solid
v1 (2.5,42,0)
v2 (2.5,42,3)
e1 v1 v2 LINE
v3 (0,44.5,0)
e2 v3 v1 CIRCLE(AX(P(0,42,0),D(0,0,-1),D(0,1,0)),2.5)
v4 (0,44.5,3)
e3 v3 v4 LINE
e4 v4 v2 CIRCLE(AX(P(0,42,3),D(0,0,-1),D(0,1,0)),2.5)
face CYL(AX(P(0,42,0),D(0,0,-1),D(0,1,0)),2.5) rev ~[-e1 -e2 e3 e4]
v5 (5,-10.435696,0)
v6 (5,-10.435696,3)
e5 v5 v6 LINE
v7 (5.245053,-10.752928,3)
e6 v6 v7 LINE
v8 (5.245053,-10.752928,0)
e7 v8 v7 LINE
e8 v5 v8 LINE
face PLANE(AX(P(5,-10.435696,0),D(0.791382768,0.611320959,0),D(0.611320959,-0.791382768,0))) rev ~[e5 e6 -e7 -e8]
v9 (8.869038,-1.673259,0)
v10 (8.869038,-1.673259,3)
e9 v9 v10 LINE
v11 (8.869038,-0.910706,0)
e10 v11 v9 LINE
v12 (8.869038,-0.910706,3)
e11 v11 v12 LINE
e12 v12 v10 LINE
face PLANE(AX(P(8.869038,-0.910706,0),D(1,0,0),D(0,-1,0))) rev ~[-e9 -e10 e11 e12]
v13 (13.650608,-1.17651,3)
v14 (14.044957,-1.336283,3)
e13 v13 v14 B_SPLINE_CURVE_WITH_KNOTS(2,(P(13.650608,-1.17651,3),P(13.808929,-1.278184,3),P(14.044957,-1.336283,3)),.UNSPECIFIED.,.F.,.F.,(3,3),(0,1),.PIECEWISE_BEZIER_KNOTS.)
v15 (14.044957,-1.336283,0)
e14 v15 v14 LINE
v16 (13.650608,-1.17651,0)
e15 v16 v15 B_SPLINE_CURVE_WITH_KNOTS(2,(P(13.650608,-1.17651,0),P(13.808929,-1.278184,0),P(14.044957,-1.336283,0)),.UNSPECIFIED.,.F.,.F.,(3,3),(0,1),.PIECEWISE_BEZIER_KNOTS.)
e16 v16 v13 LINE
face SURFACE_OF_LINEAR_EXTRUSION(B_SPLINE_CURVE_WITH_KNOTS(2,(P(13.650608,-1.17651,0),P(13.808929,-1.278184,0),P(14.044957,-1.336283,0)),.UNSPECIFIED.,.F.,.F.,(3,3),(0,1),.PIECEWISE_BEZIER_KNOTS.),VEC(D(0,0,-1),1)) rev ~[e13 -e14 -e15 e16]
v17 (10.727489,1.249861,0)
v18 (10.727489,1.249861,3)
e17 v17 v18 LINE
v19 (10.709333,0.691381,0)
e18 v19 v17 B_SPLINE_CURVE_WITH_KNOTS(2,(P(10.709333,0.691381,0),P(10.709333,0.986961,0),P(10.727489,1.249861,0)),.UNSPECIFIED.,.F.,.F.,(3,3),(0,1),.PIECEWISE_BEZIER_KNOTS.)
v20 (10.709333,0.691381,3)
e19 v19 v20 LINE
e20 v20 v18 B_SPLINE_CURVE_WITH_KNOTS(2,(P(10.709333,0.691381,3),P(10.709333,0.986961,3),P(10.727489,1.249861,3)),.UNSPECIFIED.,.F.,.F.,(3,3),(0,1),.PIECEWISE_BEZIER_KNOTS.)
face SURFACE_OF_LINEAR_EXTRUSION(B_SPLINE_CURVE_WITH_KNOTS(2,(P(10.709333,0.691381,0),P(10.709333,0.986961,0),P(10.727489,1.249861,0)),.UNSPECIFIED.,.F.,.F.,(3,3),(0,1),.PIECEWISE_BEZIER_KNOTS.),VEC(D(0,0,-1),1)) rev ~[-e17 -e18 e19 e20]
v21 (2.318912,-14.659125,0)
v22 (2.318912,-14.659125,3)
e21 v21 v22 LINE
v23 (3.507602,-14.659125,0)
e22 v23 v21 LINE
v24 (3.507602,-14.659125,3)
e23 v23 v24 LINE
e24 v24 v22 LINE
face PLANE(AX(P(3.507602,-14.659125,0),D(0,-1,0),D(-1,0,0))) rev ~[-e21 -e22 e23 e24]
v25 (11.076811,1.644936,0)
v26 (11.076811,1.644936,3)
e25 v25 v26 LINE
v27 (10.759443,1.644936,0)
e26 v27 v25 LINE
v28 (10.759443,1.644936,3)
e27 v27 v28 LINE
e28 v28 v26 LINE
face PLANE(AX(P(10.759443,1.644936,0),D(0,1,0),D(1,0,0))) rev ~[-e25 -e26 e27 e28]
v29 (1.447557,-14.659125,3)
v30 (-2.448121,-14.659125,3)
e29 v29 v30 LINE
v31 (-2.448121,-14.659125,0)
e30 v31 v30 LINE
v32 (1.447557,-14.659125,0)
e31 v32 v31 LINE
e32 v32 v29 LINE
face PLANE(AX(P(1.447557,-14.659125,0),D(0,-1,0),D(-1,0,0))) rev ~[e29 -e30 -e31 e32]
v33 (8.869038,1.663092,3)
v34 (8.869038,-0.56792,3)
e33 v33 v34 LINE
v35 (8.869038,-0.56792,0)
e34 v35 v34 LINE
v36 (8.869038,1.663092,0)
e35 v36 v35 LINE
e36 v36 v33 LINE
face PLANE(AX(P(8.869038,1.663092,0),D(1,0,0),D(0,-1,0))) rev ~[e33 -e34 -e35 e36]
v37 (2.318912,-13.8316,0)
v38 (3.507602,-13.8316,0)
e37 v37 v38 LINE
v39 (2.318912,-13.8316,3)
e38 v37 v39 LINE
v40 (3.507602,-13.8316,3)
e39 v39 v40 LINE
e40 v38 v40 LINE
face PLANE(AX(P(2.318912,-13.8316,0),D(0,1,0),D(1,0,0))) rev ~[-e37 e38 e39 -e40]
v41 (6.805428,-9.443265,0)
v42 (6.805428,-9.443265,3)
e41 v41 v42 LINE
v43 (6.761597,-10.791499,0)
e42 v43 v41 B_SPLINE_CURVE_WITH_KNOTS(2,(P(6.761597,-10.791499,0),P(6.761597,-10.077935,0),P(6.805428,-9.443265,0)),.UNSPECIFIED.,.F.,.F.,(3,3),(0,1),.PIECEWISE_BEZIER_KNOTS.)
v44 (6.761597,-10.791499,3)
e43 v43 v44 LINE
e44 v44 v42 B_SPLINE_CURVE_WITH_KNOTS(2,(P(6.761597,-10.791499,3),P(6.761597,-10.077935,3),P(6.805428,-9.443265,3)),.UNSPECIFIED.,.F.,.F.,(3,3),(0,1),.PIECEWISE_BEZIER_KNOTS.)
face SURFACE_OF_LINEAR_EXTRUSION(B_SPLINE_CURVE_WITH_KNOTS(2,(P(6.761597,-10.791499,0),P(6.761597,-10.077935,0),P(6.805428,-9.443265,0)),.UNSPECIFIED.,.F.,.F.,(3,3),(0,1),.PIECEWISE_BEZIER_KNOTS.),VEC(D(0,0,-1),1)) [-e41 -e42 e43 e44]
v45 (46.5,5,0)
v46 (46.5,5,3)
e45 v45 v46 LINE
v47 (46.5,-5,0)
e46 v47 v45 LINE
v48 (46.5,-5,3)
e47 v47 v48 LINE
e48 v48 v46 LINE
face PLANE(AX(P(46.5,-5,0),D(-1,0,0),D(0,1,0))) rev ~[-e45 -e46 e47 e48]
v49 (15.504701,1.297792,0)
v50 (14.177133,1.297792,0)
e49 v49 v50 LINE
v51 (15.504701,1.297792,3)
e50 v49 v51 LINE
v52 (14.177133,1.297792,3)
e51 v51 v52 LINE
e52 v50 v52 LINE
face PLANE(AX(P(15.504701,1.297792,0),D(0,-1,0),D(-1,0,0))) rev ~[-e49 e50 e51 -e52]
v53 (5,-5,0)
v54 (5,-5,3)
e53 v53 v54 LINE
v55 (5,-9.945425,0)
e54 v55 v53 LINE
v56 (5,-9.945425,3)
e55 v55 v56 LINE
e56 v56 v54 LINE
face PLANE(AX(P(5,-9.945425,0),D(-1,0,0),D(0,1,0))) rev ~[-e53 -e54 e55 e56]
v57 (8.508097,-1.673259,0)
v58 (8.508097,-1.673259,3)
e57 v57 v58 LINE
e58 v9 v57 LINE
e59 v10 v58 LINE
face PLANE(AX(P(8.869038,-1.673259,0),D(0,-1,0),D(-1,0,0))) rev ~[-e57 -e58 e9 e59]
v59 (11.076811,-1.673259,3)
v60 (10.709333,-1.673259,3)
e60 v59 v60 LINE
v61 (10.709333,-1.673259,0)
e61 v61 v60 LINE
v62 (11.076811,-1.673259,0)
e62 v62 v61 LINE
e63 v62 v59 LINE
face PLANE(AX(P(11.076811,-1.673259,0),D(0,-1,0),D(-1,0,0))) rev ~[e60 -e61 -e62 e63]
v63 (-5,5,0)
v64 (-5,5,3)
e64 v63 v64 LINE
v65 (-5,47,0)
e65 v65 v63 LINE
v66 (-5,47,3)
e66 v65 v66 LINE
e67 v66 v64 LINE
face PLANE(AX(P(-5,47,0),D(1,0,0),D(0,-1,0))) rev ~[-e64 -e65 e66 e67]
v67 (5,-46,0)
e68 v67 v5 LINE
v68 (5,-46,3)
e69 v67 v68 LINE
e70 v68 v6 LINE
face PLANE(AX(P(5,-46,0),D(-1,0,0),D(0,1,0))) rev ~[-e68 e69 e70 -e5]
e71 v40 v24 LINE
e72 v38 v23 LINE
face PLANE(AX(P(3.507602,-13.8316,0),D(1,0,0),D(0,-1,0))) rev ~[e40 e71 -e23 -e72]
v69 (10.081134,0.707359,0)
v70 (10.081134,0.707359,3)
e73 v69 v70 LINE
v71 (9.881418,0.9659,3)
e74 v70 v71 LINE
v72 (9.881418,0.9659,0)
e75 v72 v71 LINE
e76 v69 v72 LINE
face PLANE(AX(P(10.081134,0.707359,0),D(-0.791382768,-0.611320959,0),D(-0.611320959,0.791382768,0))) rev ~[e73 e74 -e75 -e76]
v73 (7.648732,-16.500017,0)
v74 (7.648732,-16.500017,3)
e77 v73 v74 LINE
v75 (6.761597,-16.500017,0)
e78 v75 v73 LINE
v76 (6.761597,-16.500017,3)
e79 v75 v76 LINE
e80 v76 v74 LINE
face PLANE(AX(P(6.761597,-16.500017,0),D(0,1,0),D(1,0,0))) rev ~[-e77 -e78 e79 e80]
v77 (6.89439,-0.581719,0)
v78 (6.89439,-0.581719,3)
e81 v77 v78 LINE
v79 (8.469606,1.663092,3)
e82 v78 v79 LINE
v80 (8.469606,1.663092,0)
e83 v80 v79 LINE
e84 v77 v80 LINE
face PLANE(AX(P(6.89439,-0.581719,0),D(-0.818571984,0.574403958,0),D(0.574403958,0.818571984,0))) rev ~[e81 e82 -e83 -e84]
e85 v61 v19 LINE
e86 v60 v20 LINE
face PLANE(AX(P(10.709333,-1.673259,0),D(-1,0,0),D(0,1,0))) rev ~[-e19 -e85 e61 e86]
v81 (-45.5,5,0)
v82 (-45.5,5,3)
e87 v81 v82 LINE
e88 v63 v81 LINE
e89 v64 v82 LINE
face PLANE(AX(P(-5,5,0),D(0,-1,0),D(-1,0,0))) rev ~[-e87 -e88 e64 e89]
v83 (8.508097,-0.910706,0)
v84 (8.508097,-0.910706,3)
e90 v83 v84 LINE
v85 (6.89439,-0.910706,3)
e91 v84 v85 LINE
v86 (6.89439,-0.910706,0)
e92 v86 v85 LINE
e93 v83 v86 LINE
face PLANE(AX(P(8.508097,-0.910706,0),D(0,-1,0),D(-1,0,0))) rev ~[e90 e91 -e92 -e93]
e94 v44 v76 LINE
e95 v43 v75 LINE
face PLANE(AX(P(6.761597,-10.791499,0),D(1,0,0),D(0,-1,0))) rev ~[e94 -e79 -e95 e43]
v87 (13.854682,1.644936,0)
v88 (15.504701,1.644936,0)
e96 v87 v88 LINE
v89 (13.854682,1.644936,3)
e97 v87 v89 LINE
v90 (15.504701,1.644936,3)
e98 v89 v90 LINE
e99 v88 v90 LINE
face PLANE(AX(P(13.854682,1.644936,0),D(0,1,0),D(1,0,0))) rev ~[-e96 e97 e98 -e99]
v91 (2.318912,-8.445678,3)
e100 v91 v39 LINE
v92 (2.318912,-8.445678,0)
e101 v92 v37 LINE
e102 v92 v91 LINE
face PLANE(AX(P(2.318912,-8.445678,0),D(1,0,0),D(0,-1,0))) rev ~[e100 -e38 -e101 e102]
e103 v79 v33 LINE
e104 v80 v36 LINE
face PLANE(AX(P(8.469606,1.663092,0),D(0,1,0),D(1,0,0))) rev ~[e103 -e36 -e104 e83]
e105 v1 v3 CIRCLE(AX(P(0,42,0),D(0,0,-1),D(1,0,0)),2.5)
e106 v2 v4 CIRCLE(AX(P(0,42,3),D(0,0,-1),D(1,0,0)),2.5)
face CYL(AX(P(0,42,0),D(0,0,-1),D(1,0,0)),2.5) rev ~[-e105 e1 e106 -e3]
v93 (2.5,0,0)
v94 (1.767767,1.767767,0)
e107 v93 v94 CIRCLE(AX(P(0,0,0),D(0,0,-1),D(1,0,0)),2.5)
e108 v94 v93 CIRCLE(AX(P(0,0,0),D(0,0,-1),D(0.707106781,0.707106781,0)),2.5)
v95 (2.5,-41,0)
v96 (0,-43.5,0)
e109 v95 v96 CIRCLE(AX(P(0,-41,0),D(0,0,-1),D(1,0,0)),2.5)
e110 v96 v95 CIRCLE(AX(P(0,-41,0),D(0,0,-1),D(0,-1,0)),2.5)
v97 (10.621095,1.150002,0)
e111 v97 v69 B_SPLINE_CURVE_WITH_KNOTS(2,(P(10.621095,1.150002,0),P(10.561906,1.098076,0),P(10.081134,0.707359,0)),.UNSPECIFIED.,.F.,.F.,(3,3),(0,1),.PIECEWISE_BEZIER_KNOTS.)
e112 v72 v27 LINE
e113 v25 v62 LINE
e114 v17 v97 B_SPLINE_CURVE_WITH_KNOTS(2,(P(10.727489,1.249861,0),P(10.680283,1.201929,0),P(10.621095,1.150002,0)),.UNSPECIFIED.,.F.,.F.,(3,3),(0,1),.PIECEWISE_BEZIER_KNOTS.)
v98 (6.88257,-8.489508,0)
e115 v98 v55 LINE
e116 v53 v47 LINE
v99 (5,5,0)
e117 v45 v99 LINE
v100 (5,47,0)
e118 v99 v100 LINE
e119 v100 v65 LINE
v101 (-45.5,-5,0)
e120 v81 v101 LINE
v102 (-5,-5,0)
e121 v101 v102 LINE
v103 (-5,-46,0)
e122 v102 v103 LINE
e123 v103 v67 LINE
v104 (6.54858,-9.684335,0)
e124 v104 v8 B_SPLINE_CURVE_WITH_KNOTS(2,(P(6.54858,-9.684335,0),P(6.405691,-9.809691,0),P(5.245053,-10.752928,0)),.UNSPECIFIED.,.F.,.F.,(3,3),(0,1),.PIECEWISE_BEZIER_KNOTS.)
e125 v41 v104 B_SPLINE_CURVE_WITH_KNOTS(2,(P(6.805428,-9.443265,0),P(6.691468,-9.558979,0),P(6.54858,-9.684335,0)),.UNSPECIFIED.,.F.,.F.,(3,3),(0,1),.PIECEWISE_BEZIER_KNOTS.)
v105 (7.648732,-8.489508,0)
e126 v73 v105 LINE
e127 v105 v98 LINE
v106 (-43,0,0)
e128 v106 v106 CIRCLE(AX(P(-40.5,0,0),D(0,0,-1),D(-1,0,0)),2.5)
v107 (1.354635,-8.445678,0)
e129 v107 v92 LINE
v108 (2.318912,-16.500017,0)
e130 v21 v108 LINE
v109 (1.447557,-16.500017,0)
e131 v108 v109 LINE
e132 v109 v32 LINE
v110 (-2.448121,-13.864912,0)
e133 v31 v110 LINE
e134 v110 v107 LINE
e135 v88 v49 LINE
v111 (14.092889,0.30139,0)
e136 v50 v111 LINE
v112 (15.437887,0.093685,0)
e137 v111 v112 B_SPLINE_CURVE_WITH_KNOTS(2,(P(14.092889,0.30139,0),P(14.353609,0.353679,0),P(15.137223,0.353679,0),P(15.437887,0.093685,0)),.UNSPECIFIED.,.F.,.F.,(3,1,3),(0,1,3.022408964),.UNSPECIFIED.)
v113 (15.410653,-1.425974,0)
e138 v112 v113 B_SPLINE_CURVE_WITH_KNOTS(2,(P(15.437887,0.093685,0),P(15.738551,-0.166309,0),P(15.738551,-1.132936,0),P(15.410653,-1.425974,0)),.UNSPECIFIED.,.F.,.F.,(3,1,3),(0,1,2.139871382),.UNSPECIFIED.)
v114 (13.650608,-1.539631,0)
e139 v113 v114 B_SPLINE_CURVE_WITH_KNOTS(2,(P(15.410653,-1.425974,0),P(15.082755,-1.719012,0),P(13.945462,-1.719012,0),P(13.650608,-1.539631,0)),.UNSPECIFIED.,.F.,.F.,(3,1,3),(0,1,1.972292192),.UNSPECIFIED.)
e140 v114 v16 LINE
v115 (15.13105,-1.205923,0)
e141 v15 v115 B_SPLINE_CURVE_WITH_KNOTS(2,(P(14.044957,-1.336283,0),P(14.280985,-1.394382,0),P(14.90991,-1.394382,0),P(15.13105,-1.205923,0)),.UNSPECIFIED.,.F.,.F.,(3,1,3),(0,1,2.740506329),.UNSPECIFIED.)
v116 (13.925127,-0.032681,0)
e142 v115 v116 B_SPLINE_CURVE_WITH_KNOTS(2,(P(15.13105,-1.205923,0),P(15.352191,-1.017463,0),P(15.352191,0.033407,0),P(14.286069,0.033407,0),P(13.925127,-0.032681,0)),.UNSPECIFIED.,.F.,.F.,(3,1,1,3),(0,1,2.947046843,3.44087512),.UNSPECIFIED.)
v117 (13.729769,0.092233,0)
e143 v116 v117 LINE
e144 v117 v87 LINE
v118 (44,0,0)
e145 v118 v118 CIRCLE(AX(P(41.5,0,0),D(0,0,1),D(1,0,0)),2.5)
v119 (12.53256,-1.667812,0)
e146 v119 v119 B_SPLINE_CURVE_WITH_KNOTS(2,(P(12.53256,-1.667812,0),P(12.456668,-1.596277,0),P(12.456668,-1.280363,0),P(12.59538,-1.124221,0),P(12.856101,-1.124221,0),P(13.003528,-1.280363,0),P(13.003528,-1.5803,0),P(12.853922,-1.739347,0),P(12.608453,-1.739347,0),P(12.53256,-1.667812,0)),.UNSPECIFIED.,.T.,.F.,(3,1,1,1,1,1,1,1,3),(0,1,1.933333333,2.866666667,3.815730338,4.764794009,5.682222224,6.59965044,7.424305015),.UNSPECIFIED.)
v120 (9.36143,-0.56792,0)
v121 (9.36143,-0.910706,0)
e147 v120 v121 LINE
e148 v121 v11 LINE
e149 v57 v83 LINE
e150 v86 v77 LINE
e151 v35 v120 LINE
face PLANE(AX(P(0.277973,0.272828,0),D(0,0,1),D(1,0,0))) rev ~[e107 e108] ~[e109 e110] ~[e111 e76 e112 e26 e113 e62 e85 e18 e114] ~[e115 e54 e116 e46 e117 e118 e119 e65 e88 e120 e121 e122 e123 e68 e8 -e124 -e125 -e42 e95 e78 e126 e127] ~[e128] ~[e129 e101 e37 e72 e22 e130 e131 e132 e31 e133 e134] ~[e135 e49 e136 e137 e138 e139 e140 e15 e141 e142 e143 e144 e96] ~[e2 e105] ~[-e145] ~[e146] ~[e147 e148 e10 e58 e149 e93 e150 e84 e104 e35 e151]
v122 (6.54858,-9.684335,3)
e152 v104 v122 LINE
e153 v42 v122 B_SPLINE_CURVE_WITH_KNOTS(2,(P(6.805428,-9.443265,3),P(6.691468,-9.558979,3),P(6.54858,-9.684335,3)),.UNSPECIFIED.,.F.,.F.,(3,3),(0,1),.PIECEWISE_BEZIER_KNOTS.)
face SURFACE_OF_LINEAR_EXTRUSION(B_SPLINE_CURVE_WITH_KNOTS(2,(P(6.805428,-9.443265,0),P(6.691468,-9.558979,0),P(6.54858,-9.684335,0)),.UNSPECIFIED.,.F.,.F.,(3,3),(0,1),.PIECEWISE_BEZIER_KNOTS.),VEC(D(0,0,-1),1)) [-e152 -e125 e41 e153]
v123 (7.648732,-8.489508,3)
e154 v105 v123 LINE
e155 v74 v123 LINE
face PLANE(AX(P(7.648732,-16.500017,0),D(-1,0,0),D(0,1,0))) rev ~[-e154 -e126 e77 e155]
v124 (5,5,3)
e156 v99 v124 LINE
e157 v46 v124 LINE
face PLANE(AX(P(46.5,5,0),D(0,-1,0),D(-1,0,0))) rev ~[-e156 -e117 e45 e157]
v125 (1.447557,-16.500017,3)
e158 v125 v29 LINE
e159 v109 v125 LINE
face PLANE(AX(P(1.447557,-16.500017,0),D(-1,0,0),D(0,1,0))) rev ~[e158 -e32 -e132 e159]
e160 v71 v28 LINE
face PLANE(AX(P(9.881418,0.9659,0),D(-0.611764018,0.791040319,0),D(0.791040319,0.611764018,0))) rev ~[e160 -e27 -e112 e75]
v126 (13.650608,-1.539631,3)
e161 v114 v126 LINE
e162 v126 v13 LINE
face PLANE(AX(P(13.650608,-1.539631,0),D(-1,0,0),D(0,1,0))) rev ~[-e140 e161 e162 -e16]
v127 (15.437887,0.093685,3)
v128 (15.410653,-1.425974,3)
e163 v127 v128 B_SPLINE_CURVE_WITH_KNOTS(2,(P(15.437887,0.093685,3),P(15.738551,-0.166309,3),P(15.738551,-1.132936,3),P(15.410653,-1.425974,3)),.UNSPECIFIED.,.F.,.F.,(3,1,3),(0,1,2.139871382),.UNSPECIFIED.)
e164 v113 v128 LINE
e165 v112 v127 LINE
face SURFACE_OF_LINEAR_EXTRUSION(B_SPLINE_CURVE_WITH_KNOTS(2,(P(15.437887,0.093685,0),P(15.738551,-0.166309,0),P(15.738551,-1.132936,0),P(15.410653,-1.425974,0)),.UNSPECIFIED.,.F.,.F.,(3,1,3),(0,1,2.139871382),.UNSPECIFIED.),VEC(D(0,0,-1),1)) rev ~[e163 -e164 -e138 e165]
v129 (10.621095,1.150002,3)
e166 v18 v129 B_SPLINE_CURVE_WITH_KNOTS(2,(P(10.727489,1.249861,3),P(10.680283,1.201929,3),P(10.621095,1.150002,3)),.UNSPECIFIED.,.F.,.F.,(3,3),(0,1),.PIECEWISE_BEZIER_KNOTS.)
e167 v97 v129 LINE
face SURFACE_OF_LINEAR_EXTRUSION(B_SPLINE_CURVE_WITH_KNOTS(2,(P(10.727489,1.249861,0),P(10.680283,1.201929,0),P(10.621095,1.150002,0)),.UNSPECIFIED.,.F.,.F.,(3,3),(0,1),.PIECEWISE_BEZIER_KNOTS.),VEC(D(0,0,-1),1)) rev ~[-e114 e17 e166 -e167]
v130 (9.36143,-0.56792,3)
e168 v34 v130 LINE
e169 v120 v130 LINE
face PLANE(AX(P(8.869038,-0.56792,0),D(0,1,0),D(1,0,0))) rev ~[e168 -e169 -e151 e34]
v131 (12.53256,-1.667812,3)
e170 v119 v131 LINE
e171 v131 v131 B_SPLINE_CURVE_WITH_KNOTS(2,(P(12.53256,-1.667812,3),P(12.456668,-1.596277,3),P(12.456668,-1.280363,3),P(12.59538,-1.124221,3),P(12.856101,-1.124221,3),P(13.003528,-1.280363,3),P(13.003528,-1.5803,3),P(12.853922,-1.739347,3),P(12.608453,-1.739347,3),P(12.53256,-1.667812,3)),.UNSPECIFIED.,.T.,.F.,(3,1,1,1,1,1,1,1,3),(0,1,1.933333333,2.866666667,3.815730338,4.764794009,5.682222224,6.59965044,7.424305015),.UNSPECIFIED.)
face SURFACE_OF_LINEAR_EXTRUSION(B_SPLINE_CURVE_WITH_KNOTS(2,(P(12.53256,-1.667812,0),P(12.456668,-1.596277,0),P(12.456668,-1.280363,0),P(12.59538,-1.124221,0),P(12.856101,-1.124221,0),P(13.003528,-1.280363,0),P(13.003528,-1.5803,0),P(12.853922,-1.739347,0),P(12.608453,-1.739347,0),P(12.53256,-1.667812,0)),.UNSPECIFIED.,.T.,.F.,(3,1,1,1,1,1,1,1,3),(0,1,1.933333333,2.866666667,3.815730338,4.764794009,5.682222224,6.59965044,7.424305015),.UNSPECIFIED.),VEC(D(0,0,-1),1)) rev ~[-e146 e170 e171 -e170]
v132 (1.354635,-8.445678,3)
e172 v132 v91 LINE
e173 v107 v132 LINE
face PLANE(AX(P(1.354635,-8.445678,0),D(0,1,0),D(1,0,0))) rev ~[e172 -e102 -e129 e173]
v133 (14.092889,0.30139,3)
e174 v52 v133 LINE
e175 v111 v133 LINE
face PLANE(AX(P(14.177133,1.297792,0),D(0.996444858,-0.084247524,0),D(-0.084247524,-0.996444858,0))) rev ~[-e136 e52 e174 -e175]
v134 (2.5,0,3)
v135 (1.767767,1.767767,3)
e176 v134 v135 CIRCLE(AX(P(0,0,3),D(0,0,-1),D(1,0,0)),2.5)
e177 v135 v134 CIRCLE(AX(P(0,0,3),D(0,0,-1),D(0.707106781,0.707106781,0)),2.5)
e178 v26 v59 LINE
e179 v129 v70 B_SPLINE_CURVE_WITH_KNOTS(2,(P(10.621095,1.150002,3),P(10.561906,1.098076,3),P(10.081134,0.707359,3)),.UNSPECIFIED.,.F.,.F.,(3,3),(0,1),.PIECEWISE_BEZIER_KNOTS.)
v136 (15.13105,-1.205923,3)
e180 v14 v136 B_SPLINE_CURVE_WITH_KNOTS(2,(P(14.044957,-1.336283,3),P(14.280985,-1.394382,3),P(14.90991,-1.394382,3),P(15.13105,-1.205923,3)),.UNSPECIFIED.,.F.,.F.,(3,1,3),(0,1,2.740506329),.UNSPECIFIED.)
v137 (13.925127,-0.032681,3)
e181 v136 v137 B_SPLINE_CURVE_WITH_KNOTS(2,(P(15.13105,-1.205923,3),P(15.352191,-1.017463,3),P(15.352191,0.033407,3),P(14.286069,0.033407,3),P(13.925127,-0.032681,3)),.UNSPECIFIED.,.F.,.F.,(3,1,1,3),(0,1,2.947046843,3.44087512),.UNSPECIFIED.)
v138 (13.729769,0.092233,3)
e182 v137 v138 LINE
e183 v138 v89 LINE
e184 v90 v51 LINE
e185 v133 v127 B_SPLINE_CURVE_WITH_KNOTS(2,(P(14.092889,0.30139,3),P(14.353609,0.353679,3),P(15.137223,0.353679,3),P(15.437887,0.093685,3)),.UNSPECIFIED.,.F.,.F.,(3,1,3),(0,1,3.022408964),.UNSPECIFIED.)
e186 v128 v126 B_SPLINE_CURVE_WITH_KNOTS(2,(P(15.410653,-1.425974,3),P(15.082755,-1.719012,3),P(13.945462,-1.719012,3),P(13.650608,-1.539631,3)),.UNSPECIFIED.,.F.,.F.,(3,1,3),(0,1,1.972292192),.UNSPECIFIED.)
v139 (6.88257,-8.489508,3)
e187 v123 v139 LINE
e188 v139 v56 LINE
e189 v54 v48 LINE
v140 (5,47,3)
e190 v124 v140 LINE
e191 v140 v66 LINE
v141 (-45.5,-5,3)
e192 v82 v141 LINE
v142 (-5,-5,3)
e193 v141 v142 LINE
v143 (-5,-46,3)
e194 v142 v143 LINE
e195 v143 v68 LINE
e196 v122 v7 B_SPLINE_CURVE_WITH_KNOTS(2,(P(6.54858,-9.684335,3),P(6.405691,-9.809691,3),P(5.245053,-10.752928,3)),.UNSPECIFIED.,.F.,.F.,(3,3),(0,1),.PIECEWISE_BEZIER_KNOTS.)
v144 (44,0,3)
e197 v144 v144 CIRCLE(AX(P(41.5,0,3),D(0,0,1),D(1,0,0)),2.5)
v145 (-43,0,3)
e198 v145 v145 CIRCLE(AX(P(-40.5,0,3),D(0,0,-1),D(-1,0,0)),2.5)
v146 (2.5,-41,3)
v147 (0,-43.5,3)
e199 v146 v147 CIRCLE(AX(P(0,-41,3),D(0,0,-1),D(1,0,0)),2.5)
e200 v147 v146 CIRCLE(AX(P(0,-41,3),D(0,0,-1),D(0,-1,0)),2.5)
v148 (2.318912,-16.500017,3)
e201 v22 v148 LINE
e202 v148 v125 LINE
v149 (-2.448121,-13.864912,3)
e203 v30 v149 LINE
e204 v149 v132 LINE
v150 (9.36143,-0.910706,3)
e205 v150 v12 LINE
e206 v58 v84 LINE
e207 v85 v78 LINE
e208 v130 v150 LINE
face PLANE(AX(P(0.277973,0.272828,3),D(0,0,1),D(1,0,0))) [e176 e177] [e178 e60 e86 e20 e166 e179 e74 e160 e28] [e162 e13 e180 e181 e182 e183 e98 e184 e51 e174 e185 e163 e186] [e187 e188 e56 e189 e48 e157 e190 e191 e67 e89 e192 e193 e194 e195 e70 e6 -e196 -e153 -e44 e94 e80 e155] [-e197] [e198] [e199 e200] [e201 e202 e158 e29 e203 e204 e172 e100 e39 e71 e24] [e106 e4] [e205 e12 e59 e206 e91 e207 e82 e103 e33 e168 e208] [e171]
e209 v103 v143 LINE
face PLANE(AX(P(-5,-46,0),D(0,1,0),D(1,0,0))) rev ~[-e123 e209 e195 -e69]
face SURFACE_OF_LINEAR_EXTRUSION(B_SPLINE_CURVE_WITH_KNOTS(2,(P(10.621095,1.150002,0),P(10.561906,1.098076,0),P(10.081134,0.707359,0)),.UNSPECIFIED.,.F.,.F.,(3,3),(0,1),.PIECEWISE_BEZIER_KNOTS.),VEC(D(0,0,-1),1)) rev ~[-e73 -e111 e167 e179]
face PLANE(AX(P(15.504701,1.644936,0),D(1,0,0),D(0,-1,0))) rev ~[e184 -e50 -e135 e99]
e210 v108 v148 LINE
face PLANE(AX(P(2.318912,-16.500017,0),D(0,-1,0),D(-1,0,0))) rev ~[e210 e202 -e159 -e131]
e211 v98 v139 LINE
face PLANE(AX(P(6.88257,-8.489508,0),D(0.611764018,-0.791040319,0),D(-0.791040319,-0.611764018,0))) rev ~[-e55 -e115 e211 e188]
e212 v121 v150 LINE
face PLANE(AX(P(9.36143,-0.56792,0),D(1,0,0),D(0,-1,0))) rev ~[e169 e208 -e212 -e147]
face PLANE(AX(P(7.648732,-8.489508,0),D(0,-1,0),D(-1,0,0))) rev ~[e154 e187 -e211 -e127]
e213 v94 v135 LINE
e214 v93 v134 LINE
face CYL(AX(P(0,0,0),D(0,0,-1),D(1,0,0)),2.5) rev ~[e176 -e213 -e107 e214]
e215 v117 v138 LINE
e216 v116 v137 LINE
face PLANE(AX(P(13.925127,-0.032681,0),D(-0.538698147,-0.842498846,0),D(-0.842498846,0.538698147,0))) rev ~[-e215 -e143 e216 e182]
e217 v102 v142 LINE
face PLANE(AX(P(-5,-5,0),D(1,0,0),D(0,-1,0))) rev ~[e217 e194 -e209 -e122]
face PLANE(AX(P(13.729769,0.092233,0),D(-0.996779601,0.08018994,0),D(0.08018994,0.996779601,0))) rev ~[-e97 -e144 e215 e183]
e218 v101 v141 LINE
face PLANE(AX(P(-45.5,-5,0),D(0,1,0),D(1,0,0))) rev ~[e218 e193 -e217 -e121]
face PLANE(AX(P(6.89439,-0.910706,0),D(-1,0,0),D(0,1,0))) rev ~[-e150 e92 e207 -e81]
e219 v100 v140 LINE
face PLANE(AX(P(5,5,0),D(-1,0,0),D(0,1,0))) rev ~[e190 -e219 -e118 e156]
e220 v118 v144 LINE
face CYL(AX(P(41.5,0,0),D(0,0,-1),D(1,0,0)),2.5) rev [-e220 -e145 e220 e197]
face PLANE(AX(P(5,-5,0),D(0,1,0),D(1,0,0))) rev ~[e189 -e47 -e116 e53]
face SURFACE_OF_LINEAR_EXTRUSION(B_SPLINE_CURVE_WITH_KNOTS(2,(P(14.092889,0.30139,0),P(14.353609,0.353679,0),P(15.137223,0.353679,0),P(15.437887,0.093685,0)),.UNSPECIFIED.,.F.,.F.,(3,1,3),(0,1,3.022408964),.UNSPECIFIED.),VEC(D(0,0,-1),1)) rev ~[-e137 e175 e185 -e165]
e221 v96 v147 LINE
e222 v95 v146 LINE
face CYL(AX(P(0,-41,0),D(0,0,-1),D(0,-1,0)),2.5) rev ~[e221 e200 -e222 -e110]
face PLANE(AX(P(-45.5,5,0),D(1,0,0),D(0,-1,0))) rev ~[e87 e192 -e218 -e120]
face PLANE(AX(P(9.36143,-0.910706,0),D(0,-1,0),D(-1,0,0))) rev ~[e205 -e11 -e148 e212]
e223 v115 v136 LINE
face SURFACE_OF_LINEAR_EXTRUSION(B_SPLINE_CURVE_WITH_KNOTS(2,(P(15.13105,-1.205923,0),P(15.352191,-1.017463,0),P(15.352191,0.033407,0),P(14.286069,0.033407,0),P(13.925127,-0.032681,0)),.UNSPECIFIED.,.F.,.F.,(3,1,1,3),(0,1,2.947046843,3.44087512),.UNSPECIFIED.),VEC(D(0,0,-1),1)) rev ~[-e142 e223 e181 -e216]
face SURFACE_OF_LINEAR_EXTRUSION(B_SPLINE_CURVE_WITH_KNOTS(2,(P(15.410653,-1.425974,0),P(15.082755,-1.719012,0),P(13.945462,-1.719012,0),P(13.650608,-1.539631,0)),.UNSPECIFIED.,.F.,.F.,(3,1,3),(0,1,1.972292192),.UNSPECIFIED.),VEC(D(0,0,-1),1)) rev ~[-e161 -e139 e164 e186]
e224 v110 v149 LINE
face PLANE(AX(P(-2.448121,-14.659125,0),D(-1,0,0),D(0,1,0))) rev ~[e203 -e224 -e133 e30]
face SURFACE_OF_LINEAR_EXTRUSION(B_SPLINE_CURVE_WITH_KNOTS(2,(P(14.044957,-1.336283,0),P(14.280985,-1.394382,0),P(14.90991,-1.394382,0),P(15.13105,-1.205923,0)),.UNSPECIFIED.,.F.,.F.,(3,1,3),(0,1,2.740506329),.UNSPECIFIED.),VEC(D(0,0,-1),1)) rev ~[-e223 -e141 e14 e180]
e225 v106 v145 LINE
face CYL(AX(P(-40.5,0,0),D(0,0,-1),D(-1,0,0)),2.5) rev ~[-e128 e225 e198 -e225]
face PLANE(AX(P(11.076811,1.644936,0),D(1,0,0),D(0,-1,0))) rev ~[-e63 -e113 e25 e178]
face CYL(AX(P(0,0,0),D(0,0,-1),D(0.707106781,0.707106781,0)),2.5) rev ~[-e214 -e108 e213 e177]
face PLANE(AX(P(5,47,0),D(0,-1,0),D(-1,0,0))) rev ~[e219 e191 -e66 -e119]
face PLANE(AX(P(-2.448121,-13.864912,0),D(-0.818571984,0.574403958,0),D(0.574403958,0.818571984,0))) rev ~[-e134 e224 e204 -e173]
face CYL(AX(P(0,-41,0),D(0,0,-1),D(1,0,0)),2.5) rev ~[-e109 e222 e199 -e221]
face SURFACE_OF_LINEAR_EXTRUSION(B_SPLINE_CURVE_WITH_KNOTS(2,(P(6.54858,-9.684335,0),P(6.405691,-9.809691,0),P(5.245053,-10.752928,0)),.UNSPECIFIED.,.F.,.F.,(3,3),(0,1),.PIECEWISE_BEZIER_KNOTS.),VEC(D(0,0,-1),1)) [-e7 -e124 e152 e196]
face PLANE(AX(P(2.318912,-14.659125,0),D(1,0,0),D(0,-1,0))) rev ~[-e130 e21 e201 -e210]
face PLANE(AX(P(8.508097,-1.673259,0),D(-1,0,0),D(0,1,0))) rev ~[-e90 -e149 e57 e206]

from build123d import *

# Parameters (mm, degrees)
F0_R     = 2.5
F1_DEPTH = 3


with BuildPart() as f1:
    # F0 (on Top) → F1 (new body)
    with BuildSketch(Plane.XY):
        Polygon((5, 47), (0, 47), (-5, 47), (-5, 5), (-45.5, 5), (-45.5, 0), (-45.5, -5), (-5, -5), (-5, -46), (0, -46), (5, -46), (5, -10.4356960682), (4.7629147731, -10.1287784653), (5, -9.9454247125), (5, -5), (46.5, -5), (46.5, 0), (46.5, 5), (5, 5), align=None)
        with BuildLine():
            ThreePointArc((2.5, -41), (1.767766953, -42.767766953), (0, -43.5))
            ThreePointArc((0, -43.5), (-1.767766953, -39.232233047), (2.5, -41))
        make_face(mode=Mode.SUBTRACT)
        with BuildLine():
            ThreePointArc((-38, 0), (-40.5, -2.5), (-43, 0))
            ThreePointArc((-43, 0), (-40.5, 2.5), (-38, 0))
        make_face(mode=Mode.SUBTRACT)
        with BuildLine():
            ThreePointArc((2.5, 0), (-2.3096988313, -0.9567085809), (1.767766953, 1.767766953))
            ThreePointArc((1.767766953, 1.767766953), (2.3096988313, 0.9567085809), (2.5, 0))
        make_face(mode=Mode.SUBTRACT)
        Polygon((3.5076020164, -13.8316004514), (3.5076020164, -14.659125062), (2.3189120038, -14.659125062), (2.3189120038, -16.5000166744), (1.4475566406, -16.5000166744), (1.4475566406, -14.659125062), (-2.4481206573, -14.659125062), (-2.4481206573, -13.8649118235), (1.3546354449, -8.4456775625), (2.3189120038, -8.4456775625), (2.3189120038, -13.8316004514), align=None, mode=Mode.SUBTRACT)
        Polygon((9.3614297288, -0.567920358), (9.3614297288, -0.9107060472), (8.869038421, -0.9107060472), (8.869038421, -1.6732589575), (8.5080967101, -1.6732589575), (8.5080967101, -0.9107060472), (6.8943895038, -0.9107060472), (6.8943895038, -0.5817189344), (8.4696059442, 1.6630915853), (8.869038421, 1.6630915853), (8.869038421, -0.567920358), align=None, mode=Mode.SUBTRACT)
        with BuildLine():
            Line((11.0768106565, 1.6449355636), (11.0768106565, -1.6732589575))
            Line((11.0768106565, -1.6732589575), (10.7093327779, -1.6732589575))
            Line((10.7093327779, -1.6732589575), (10.7093327779, 0.6913813053))
            add(Edge.make_bspline(
                [(10.7093327779, 0.6913813053), (10.7093327779, 0.9869613382), (10.7274887995, 1.249860532)],
                knots=[0, 0, 0, 1, 1, 1], degree=2))
            add(Edge.make_bspline(
                [(10.7274887995, 1.249860532), (10.6802831432, 1.2019286348), (10.6210945125, 1.1500024128)],
                knots=[0, 0, 0, 1, 1, 1], degree=2))
            add(Edge.make_bspline(
                [(10.6210945125, 1.1500024128), (10.5619058819, 1.0980761908), (10.0811344279, 0.7073586044)],
                knots=[0, 0, 0, 1, 1, 1], degree=2))
            Line((10.0811344279, 0.7073586044), (9.8814181895, 0.965900353))
            Line((9.8814181895, 0.965900353), (10.7594433977, 1.6449355636))
            Line((10.7594433977, 1.6449355636), (11.0768106565, 1.6449355636))
        make_face(mode=Mode.SUBTRACT)
        with BuildLine():
            add(Edge.make_bspline(
                [(12.5325604743, -1.667812151), (12.4566683037, -1.5962774256), (12.4566683037, -1.4328732305)],
                knots=[0, 0, 0, 1, 1, 1], degree=2))
            add(Edge.make_bspline(
                [(12.4566683037, -1.4328732305), (12.4566683037, -1.2803626484), (12.5260243065, -1.2022917552)],
                knots=[0, 0, 0, 1, 1, 1], degree=2))
            add(Edge.make_bspline(
                [(12.5260243065, -1.2022917552), (12.5953803093, -1.124220862), (12.7246511836, -1.124220862)],
                knots=[0, 0, 0, 1, 1, 1], degree=2))
            add(Edge.make_bspline(
                [(12.7246511836, -1.124220862), (12.8561007806, -1.124220862), (12.9298142286, -1.2022917552)],
                knots=[0, 0, 0, 1, 1, 1], degree=2))
            add(Edge.make_bspline(
                [(12.9298142286, -1.2022917552), (13.0035276766, -1.2803626484), (13.0035276766, -1.4328732305)],
                knots=[0, 0, 0, 1, 1, 1], degree=2))
            add(Edge.make_bspline(
                [(13.0035276766, -1.4328732305), (13.0035276766, -1.5803001265), (12.9287248673, -1.6598235014)],
                knots=[0, 0, 0, 1, 1, 1], degree=2))
            add(Edge.make_bspline(
                [(12.9287248673, -1.6598235014), (12.853922058, -1.7393468763), (12.7246511836, -1.7393468763)],
                knots=[0, 0, 0, 1, 1, 1], degree=2))
            add(Edge.make_bspline(
                [(12.7246511836, -1.7393468763), (12.6084526449, -1.7393468763), (12.5325604743, -1.667812151)],
                knots=[0, 0, 0, 1, 1, 1], degree=2))
        make_face(mode=Mode.SUBTRACT)
        with BuildLine():
            add(Edge.make_bspline(
                [(14.092888977, 0.3013899598), (14.3536094482, 0.3536793022), (14.6128774377, 0.3536793022)],
                knots=[0, 0, 0, 1, 1, 1], degree=2))
            add(Edge.make_bspline(
                [(14.6128774377, 0.3536793022), (15.1372233437, 0.3536793022), (15.4378870626, 0.0936850718)],
                knots=[0, 0, 0, 1, 1, 1], degree=2))
            add(Edge.make_bspline(
                [(15.4378870626, 0.0936850718), (15.7385507815, -0.1663091585), (15.7385507815, -0.6180309778)],
                knots=[0, 0, 0, 1, 1, 1], degree=2))
            add(Edge.make_bspline(
                [(15.7385507815, -0.6180309778), (15.7385507815, -1.1329357524), (15.4106530301, -1.4259739423)],
                knots=[0, 0, 0, 1, 1, 1], degree=2))
            add(Edge.make_bspline(
                [(15.4106530301, -1.4259739423), (15.0827552786, -1.7190121321), (14.5061200303, -1.7190121321)],
                knots=[0, 0, 0, 1, 1, 1], degree=2))
            add(Edge.make_bspline(
                [(14.5061200303, -1.7190121321), (13.945462081, -1.7190121321), (13.650608289, -1.5396306379)],
                knots=[0, 0, 0, 1, 1, 1], degree=2))
            Line((13.650608289, -1.5396306379), (13.650608289, -1.1765102045))
            add(Edge.make_bspline(
                [(13.650608289, -1.1765102045), (13.808928798, -1.2781839258), (14.0449570798, -1.3362831952)],
                knots=[0, 0, 0, 1, 1, 1], degree=2))
            add(Edge.make_bspline(
                [(14.0449570798, -1.3362831952), (14.2809853615, -1.3943824645), (14.5104774755, -1.3943824645)],
                knots=[0, 0, 0, 1, 1, 1], degree=2))
            add(Edge.make_bspline(
                [(14.5104774755, -1.3943824645), (14.9099099523, -1.3943824645), (15.1310502963, -1.2059229596)],
                knots=[0, 0, 0, 1, 1, 1], degree=2))
            add(Edge.make_bspline(
                [(15.1310502963, -1.2059229596), (15.3521906403, -1.0174634546), (15.3521906403, -0.6608791889)],
                knots=[0, 0, 0, 1, 1, 1], degree=2))
            add(Edge.make_bspline(
                [(15.3521906403, -0.6608791889), (15.3521906403, 0.0334070799), (14.5017625851, 0.0334070799)],
                knots=[0, 0, 0, 1, 1, 1], degree=2))
            add(Edge.make_bspline(
                [(14.5017625851, 0.0334070799), (14.2860690476, 0.0334070799), (13.9251273367, -0.032680839)],
                knots=[0, 0, 0, 1, 1, 1], degree=2))
            Line((13.9251273367, -0.032680839), (13.7297685435, 0.0922325901))
            Line((13.7297685435, 0.0922325901), (13.8546819726, 1.6449355636))
            Line((13.8546819726, 1.6449355636), (15.5047012223, 1.6449355636))
            Line((15.5047012223, 1.6449355636), (15.5047012223, 1.2977924292))
            Line((15.5047012223, 1.2977924292), (14.1771329175, 1.2977924292))
            Line((14.1771329175, 1.2977924292), (14.092888977, 0.3013899598))
        make_face(mode=Mode.SUBTRACT)
        with Locations((41.5, 0)):
            Circle(F0_R, mode=Mode.SUBTRACT)
        with BuildLine():
            ThreePointArc((0, 44.5), (1.767766953, 43.767766953), (2.5, 42))
            ThreePointArc((2.5, 42), (-1.767766953, 40.232233047), (0, 44.5))
        make_face(mode=Mode.SUBTRACT)
        with BuildLine():
            Line((6.8825699725, -8.4895083152), (5, -9.9454247125))
            Line((5, -9.9454247125), (5, -10.4356960682))
            Line((5, -10.4356960682), (5.2450530525, -10.7529283834))
            add(Edge.make_bspline(
                [(6.5485796371, -9.6843346332), (6.4056913834, -9.8096905858), (5.2450530525, -10.7529283834)],
                knots=[0, 0, 0, 1, 1, 1], degree=2))
            add(Edge.make_bspline(
                [(6.8054278478, -9.4432654934), (6.6914678909, -9.5589786805), (6.5485796371, -9.6843346332)],
                knots=[0, 0, 0, 1, 1, 1], degree=2))
            add(Edge.make_bspline(
                [(6.7615970951, -10.7914994458), (6.7615970951, -10.0779347922), (6.8054278478, -9.4432654934)],
                knots=[0, 0, 0, 1, 1, 1], degree=2))
            Line((6.7615970951, -10.7914994458), (6.7615970951, -16.5000166744))
            Line((6.7615970951, -16.5000166744), (7.6487315293, -16.5000166744))
            Line((7.6487315293, -16.5000166744), (7.6487315293, -8.4895083152))
            Line((7.6487315293, -8.4895083152), (6.8825699725, -8.4895083152))
        make_face()
        Polygon((5, -10.4356960682), (5, -9.9454247125), (4.7629147731, -10.1287784653), align=None)
    extrude(amount=F1_DEPTH)


solid = f1.part
